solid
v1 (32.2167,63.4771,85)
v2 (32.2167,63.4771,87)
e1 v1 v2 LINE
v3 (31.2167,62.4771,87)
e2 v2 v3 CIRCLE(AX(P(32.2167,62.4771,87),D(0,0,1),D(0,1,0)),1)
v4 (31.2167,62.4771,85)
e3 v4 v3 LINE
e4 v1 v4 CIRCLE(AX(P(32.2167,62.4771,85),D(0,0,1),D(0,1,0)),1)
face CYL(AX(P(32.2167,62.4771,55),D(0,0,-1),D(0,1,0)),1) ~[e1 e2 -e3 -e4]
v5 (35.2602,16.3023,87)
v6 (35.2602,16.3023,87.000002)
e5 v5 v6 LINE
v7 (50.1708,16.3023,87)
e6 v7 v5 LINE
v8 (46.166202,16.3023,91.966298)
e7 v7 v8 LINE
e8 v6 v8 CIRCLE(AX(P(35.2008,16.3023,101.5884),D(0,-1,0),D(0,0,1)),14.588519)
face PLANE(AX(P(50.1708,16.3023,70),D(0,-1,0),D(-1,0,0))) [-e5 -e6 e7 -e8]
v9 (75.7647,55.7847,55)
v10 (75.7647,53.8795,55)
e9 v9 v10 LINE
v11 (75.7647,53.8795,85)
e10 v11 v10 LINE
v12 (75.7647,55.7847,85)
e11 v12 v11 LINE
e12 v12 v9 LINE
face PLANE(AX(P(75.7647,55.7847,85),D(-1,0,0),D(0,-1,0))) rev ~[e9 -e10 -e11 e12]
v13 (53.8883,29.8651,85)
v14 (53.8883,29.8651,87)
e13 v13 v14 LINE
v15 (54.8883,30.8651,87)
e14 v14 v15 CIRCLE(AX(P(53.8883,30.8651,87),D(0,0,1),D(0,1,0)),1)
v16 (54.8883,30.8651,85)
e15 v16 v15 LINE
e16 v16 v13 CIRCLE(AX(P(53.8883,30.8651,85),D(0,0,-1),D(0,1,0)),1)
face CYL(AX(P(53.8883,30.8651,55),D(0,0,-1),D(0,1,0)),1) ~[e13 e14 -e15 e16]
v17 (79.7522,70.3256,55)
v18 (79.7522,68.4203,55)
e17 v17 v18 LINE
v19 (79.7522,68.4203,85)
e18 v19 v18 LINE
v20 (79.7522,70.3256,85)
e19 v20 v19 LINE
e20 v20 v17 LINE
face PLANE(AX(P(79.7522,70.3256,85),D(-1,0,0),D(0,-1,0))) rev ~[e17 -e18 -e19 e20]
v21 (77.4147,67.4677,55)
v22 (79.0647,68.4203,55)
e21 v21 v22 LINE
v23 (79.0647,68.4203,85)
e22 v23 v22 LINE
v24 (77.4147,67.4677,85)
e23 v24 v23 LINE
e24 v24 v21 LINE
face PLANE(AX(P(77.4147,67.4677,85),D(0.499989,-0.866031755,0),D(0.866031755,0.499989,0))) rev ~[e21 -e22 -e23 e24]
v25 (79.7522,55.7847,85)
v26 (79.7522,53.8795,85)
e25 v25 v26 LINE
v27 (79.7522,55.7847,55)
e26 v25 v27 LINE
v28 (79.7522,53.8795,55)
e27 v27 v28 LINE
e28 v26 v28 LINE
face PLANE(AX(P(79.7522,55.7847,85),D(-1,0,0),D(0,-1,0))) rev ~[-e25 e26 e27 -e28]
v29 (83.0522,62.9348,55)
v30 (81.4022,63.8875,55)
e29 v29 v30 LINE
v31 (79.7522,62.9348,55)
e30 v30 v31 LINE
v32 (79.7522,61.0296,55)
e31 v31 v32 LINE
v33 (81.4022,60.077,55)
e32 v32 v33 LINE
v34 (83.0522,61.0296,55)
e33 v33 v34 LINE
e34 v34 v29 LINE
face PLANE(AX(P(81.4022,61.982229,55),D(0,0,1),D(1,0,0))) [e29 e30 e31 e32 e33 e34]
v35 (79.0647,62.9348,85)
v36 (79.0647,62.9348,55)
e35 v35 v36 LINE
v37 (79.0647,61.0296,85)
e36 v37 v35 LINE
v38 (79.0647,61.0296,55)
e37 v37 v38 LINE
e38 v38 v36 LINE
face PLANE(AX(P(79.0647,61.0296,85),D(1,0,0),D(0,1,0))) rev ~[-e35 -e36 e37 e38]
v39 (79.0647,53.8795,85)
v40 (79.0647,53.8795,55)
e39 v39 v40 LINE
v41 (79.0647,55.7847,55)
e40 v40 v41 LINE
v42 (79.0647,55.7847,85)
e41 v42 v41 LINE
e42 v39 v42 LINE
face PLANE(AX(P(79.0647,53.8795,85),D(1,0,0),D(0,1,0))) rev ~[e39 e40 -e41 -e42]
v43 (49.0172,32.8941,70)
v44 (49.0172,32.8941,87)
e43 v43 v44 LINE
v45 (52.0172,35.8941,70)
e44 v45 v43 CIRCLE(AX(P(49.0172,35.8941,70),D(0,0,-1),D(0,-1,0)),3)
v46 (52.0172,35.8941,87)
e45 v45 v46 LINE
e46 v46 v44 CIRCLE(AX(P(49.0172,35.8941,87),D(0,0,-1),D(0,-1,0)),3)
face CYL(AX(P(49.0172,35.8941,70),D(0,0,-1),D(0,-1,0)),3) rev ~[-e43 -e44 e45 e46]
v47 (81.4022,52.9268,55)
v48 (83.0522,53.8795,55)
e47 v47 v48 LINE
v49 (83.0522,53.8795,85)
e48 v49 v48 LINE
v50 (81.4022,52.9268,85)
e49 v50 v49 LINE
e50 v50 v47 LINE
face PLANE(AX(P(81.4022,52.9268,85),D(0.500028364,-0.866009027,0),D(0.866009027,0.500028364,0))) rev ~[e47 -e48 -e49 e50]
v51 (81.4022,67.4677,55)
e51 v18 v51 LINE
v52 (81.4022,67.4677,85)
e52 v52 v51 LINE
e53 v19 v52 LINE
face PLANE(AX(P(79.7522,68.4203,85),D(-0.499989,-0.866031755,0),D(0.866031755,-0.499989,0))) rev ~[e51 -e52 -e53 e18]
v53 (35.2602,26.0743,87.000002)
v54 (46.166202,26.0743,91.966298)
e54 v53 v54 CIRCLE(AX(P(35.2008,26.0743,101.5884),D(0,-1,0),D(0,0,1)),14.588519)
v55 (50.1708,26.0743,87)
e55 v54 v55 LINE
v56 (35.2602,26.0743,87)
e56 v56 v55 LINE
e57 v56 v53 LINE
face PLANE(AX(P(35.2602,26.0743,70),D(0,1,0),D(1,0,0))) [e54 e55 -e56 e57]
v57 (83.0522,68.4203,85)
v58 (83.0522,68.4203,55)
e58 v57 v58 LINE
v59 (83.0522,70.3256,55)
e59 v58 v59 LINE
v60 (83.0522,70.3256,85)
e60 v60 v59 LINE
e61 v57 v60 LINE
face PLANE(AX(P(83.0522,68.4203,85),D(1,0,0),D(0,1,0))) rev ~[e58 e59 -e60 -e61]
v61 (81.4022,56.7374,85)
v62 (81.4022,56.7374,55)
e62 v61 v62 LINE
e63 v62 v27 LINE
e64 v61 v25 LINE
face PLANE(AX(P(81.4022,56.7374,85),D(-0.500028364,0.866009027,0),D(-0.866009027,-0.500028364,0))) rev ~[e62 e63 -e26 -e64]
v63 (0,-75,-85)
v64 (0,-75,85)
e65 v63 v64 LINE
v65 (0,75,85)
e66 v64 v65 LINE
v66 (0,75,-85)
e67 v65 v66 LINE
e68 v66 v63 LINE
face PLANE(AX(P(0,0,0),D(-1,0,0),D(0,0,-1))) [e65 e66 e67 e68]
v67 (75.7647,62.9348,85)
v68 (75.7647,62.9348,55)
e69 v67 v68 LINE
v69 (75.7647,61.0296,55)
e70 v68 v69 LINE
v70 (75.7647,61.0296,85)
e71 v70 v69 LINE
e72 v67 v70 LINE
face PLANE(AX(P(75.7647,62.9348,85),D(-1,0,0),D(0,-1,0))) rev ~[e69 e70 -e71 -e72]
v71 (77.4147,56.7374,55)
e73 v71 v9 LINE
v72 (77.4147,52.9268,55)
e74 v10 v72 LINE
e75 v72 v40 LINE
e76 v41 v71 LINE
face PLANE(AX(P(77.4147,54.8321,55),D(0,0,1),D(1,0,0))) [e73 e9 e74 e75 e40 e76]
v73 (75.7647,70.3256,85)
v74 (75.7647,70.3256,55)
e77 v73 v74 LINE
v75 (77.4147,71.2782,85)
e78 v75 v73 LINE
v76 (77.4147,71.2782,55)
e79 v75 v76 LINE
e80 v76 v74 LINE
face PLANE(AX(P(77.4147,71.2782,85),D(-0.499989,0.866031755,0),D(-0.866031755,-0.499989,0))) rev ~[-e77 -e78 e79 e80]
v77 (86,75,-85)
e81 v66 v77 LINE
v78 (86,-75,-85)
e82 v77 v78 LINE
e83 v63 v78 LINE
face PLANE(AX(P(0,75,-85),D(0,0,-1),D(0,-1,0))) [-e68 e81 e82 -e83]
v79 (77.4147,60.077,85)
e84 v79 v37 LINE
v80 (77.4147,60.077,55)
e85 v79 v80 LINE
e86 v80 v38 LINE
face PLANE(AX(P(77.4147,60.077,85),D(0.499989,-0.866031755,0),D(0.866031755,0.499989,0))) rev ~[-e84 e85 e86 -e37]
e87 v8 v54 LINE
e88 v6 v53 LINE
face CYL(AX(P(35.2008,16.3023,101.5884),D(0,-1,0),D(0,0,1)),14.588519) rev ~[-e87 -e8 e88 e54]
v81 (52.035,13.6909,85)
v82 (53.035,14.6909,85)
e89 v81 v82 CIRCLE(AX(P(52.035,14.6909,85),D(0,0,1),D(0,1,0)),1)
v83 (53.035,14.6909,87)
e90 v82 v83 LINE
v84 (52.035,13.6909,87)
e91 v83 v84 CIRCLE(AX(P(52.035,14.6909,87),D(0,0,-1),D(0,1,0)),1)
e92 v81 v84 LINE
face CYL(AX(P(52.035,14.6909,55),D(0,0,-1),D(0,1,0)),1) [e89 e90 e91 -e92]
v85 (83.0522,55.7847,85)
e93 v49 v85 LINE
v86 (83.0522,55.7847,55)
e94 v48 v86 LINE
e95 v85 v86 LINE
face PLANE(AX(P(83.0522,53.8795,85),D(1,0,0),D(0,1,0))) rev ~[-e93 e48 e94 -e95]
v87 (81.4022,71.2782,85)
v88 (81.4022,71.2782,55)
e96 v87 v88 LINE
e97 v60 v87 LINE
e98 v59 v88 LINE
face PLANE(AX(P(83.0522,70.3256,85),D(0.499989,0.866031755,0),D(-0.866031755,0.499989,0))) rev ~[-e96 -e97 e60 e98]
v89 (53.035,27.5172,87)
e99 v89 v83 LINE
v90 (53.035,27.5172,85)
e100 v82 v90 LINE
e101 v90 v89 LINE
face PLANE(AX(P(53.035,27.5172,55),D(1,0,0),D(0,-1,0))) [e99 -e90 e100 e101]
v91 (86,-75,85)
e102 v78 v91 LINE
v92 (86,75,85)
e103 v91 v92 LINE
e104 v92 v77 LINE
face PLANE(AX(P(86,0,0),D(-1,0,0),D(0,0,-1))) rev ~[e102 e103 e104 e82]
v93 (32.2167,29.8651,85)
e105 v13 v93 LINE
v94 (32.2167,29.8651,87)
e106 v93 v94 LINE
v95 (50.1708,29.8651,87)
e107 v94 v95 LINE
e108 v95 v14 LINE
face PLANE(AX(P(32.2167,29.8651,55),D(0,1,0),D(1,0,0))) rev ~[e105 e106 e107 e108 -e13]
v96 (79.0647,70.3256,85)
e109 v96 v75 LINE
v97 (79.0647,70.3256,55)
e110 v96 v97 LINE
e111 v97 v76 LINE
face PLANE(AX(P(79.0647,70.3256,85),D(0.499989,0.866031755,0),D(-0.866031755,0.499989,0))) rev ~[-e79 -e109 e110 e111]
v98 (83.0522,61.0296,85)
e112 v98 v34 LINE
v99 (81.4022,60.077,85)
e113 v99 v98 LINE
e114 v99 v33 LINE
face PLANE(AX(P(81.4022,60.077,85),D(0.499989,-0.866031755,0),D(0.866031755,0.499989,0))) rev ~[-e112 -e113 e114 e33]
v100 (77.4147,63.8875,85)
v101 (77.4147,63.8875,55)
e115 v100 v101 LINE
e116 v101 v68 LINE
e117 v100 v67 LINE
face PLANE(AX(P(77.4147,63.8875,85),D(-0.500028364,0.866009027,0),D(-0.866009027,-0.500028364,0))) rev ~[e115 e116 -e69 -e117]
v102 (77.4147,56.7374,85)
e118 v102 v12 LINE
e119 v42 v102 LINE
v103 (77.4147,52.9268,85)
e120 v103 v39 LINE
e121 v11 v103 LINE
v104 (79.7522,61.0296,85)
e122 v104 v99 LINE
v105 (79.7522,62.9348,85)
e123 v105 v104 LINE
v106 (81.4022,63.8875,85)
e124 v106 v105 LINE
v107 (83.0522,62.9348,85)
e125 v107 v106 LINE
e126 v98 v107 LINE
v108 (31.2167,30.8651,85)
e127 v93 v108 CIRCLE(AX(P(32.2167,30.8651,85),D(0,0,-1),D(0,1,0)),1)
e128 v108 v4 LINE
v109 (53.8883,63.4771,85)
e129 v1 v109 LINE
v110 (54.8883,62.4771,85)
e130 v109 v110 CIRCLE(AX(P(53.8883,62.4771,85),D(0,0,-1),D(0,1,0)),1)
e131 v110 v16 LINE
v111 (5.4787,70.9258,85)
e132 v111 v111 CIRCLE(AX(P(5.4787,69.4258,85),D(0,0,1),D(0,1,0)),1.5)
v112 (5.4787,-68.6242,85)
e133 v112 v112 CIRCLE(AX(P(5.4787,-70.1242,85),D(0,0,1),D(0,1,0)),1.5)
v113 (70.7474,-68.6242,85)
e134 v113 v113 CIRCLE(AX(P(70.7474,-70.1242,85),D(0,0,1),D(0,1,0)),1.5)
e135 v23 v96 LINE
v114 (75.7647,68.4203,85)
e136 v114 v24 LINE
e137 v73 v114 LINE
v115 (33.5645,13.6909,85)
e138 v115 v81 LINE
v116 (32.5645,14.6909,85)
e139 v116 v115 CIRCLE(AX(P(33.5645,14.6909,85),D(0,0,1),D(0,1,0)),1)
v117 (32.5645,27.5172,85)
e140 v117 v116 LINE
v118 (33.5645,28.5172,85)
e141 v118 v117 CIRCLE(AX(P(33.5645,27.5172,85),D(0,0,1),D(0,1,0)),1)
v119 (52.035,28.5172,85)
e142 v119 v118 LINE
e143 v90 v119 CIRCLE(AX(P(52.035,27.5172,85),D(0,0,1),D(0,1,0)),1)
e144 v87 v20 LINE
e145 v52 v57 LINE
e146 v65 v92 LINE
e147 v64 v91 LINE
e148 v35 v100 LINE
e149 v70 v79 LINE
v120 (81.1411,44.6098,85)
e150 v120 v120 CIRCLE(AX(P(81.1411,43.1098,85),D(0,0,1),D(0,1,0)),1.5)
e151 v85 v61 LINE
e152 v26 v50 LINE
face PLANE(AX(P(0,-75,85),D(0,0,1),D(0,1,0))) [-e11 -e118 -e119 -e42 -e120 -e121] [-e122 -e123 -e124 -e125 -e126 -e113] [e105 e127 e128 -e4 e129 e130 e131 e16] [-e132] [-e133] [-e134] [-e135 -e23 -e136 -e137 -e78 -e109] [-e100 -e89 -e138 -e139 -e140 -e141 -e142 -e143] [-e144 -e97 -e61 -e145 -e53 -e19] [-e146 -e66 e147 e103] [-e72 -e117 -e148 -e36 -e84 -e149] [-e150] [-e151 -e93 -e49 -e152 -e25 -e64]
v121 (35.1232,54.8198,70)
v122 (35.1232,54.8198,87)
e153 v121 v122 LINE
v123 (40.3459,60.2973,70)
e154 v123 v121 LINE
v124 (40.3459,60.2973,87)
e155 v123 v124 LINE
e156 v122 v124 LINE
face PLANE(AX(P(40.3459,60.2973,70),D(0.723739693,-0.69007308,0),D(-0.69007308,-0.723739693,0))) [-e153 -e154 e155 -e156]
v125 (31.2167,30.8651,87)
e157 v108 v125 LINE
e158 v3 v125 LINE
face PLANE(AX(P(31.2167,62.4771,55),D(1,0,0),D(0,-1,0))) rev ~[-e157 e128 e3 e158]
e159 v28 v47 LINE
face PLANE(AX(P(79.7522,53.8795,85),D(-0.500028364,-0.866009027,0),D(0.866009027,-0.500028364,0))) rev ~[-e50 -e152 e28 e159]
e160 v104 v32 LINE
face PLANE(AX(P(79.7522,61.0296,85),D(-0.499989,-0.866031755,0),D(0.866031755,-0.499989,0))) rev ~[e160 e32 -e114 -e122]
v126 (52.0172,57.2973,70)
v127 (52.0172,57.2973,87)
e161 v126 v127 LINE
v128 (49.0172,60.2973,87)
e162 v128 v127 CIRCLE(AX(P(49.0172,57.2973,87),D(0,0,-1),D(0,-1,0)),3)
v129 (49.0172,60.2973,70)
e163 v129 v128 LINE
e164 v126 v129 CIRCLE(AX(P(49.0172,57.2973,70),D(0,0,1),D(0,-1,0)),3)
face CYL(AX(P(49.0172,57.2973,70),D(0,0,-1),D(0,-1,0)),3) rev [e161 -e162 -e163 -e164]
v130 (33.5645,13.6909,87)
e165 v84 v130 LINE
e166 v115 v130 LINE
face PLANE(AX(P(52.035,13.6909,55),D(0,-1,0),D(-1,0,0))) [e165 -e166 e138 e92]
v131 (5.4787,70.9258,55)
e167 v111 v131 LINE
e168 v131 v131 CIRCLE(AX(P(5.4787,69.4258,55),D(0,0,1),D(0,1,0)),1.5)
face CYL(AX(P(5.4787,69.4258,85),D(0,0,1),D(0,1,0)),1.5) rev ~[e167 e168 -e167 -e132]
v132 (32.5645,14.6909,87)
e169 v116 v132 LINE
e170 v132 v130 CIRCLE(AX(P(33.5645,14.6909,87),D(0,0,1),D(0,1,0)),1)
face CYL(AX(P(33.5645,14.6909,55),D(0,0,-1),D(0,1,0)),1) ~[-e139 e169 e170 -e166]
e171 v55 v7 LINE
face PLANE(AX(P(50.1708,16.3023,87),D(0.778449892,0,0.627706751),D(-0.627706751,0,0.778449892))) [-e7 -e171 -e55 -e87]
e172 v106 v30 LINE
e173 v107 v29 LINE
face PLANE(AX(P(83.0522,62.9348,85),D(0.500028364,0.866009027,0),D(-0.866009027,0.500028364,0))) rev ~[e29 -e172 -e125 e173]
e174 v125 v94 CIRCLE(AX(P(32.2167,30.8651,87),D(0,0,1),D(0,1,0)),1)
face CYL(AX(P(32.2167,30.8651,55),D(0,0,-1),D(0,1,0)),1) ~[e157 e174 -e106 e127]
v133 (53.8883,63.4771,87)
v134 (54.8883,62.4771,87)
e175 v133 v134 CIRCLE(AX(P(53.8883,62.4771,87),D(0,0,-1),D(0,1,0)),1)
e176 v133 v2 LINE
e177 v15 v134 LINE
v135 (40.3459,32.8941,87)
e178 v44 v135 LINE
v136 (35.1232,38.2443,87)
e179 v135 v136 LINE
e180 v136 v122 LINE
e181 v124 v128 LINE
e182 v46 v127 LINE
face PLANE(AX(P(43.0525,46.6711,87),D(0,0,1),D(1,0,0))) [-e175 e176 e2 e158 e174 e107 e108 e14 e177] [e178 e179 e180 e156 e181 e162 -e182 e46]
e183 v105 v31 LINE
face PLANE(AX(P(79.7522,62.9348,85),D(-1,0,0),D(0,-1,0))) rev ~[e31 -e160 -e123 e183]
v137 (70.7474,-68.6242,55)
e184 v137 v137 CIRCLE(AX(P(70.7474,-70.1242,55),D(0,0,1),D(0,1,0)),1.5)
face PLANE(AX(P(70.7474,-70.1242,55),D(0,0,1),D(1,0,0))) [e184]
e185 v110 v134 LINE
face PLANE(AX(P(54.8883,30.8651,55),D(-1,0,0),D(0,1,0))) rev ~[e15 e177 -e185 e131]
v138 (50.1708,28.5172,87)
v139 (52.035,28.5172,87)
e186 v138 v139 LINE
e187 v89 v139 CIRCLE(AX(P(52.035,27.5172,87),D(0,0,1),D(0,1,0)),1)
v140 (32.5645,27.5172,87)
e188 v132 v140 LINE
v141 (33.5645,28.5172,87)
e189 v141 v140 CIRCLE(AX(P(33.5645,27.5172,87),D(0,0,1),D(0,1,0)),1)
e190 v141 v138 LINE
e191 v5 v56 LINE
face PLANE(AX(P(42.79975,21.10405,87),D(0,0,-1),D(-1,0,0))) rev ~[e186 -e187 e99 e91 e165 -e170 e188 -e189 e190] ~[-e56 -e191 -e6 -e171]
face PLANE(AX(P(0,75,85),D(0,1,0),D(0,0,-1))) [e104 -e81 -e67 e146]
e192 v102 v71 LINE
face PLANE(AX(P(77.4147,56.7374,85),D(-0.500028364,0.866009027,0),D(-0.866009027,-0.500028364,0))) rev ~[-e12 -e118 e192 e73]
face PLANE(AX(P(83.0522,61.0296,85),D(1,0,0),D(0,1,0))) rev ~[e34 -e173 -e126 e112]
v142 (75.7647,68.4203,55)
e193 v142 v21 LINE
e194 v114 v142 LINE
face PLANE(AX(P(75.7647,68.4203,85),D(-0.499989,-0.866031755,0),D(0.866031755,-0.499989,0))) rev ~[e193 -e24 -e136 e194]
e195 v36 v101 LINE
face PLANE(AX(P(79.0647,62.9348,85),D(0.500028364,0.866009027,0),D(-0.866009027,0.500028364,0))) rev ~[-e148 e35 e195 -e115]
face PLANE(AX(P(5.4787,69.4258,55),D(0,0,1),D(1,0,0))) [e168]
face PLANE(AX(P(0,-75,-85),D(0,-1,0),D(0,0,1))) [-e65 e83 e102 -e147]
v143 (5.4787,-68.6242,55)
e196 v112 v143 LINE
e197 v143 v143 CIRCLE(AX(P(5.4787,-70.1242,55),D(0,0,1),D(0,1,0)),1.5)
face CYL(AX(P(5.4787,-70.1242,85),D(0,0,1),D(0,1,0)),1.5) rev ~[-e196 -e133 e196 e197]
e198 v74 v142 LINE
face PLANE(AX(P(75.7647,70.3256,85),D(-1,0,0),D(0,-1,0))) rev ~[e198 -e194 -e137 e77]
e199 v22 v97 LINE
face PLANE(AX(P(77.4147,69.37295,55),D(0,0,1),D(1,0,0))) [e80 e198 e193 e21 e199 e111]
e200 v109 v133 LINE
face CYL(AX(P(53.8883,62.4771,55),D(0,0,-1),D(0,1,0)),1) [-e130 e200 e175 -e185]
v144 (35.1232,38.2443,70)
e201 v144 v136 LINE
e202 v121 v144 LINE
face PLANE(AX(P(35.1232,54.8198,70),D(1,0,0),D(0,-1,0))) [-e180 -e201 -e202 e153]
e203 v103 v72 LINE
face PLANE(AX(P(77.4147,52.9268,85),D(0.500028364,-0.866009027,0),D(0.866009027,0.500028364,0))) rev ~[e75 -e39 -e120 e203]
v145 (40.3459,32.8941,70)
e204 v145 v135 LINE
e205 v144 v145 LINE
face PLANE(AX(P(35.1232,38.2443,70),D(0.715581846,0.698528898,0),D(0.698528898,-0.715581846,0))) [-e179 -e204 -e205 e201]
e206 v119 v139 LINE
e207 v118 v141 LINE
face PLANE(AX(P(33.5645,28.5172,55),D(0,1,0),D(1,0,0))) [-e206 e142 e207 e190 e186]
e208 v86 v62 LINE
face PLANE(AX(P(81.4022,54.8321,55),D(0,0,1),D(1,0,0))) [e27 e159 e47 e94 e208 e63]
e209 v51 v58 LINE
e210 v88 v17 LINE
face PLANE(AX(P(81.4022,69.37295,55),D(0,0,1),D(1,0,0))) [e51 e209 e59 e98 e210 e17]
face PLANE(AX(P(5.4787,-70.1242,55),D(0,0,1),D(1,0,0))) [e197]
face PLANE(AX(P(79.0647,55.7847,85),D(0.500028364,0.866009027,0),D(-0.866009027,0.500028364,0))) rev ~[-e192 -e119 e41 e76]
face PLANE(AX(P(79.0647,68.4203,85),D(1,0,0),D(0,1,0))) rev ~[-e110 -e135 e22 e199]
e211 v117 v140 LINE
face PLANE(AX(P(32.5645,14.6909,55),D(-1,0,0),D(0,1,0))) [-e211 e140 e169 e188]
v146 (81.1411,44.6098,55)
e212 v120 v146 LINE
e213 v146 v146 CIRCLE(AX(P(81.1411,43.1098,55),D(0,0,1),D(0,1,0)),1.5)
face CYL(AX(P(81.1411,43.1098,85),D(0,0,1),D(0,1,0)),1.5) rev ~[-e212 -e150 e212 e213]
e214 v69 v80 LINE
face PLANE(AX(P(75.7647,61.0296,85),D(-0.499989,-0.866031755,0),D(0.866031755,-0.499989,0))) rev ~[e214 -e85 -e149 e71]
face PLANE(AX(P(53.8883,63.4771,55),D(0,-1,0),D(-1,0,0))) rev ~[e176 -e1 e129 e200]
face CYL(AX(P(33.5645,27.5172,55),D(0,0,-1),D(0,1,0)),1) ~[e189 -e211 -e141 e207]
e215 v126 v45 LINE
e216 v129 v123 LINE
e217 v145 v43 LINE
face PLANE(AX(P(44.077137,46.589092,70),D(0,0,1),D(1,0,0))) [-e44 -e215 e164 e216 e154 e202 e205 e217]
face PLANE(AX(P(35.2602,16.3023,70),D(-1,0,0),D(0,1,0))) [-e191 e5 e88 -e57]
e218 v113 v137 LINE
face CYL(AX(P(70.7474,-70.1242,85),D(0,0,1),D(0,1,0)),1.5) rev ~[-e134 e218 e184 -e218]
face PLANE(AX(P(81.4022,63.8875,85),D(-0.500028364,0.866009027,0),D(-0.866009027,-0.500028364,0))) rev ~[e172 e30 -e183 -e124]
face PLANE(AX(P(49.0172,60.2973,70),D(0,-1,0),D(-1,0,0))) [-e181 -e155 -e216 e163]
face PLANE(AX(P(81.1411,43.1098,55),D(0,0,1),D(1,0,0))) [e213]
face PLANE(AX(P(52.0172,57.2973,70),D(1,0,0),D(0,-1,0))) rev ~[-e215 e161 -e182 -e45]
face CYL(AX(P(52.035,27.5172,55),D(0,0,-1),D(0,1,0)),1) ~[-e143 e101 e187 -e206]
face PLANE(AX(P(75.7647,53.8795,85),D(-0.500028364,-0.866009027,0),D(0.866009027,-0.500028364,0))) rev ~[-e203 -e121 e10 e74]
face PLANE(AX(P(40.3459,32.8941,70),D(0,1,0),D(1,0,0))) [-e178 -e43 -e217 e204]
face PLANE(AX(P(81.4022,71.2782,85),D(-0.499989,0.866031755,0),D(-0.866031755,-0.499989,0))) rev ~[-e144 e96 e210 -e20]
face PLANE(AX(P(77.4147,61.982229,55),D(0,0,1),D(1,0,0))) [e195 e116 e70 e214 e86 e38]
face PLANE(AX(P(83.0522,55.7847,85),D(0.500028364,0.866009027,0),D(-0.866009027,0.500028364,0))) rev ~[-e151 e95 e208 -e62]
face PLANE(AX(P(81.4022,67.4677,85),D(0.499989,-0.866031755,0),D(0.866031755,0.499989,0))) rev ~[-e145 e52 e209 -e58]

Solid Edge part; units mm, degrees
sketch "Sketch1" plane through (0, 0, 0) normal (-1, 0, 0) x (0, -1, 0)
  line L0 (-75, -85) -> (75, -85)
  line L1 (75, -85) -> (75, 85)
  line L2 (75, 85) -> (-75, 85)
  line L3 (-75, 85) -> (-75, -85)
  dimension "D1" = 150
  dimension "D2" = 170
extrude "Protrusion1" add sketch "Sketch1" against normal blind 86
sketch "Sketch2" plane through (43, 0, 85) normal (0, 0, 1) x (0, 1, 0)
  circle A0 centre (-70.1242, -27.7474) radius 1.5
  circle A1 centre (69.4258, 37.5213) radius 1.5
  circle A2 centre (43.1098, -38.1411) radius 1.5
  line L0 (60.2973, 2.6541) -> (60.2973, -6.0172)
  arc A3 (57.2973, -9.0172) -> (60.2973, -6.0172) centre (57.2973, -6.0172) ccw
  line L1 (57.2973, -9.0172) -> (35.8941, -9.0172)
  arc A4 (32.8941, -6.0172) -> (35.8941, -9.0172) centre (35.8941, -6.0172) ccw
  line L2 (32.8941, -6.0172) -> (32.8941, 2.6541)
  line L3 (38.2443, 7.8768) -> (32.8941, 2.6541)
  line L4 (38.2443, 7.8768) -> (54.8198, 7.8768)
  line L5 (54.8198, 7.8768) -> (60.2973, 2.6541)
  circle A5 centre (-70.1242, 37.5213) radius 1.5
  line L6 (62.4771, -11.8883) -> (30.8651, -11.8883)
  arc A6 (30.8651, -11.8883) -> (29.8651, -10.8883) centre (30.8651, -10.8883) cw
  line L7 (29.8651, -10.8883) -> (29.8651, 10.7833)
  arc A7 (29.8651, 10.7833) -> (30.8651, 11.7833) centre (30.8651, 10.7833) cw
  line L8 (30.8651, 11.7833) -> (62.4771, 11.7833)
  arc A8 (63.4771, 10.7833) -> (62.4771, 11.7833) centre (62.4771, 10.7833) ccw
  line L9 (63.4771, 10.7833) -> (63.4771, -10.8883)
  arc A9 (63.4771, -10.8883) -> (62.4771, -11.8883) centre (62.4771, -10.8883) cw
  line L10 (27.5172, 10.4355) -> (14.6909, 10.4355)
  arc A10 (14.6909, 10.4355) -> (13.6909, 9.4355) centre (14.6909, 9.4355) ccw
  line L11 (13.6909, 9.4355) -> (13.6909, -9.035)
  arc A11 (13.6909, -9.035) -> (14.6909, -10.035) centre (14.6909, -9.035) ccw
  line L12 (14.6909, -10.035) -> (27.5172, -10.035)
  arc A12 (27.5172, -10.035) -> (28.5172, -9.035) centre (27.5172, -9.035) ccw
  line L13 (28.5172, -9.035) -> (28.5172, 9.4355)
  arc A13 (28.5172, 9.4355) -> (27.5172, 10.4355) centre (27.5172, 9.4355) ccw
  line L14 (26.0742, 7.7398) -> (16.3023, 7.7398)
  line L15 (16.3023, 7.7398) -> (16.3023, -7.1708)
  line L16 (16.3023, -7.1708) -> (26.0742, -7.1708)
  line L17 (26.0742, -7.1708) -> (26.0742, 7.7398)
  line L18 (70.3256, -36.7522) -> (68.4203, -36.7522)
  line L19 (68.4203, -36.7522) -> (67.4677, -38.4022)
  line L20 (67.4677, -38.4022) -> (68.4203, -40.0522)
  line L21 (68.4203, -40.0522) -> (70.3256, -40.0522)
  line L22 (70.3256, -40.0522) -> (71.2782, -38.4022)
  line L23 (71.2782, -38.4022) -> (70.3256, -36.7522)
  line L24 (62.9348, -36.7522) -> (61.0296, -36.7522)
  line L25 (61.0296, -36.7522) -> (60.077, -38.4022)
  line L26 (60.077, -38.4022) -> (61.0296, -40.0522)
  line L27 (61.0296, -40.0522) -> (62.9348, -40.0522)
  line L28 (62.9348, -40.0522) -> (63.8875, -38.4022)
  line L29 (63.8875, -38.4022) -> (62.9348, -36.7522)
  line L30 (55.7847, -36.7522) -> (53.8795, -36.7522)
  line L31 (53.8795, -36.7522) -> (52.9268, -38.4022)
  line L32 (52.9268, -38.4022) -> (53.8795, -40.0522)
  line L33 (53.8795, -40.0522) -> (55.7847, -40.0522)
  line L34 (55.7847, -40.0522) -> (56.7374, -38.4022)
  line L35 (56.7374, -38.4022) -> (55.7847, -36.7522)
  line L36 (55.7847, -32.7647) -> (53.8795, -32.7647)
  line L37 (53.8795, -32.7647) -> (52.9268, -34.4147)
  line L38 (52.9268, -34.4147) -> (53.8795, -36.0647)
  line L39 (53.8795, -36.0647) -> (55.7847, -36.0647)
  line L40 (55.7847, -36.0647) -> (56.7374, -34.4147)
  line L41 (56.7374, -34.4147) -> (55.7847, -32.7647)
  line L42 (62.9348, -32.7647) -> (61.0296, -32.7647)
  line L43 (61.0296, -32.7647) -> (60.077, -34.4147)
  line L44 (60.077, -34.4147) -> (61.0296, -36.0647)
  line L45 (61.0296, -36.0647) -> (62.9348, -36.0647)
  line L46 (62.9348, -36.0647) -> (63.8875, -34.4147)
  line L47 (63.8875, -34.4147) -> (62.9348, -32.7647)
  line L48 (70.3256, -32.7647) -> (68.4203, -32.7647)
  line L49 (68.4203, -32.7647) -> (67.4677, -34.4147)
  line L50 (67.4677, -34.4147) -> (68.4203, -36.0647)
  line L51 (68.4203, -36.0647) -> (70.3256, -36.0647)
  line L52 (70.3256, -36.0647) -> (71.2782, -34.4147)
  line L53 (71.2782, -34.4147) -> (70.3256, -32.7647)
  dimension "D1" = 3
  dimension "D2" = 3
  dimension "D3" = 3
  dimension "D4" = 3
  dimension "D5" = 21.4032
  dimension "D6" = 8.6713
  dimension "D7" = 7.4767
  dimension "D8" = 7.5684
  dimension "D9" = 3
  dimension "D10" = 3
  dimension "D11" = 31.612
  dimension "D12" = 21.6716
  dimension "D13" = 12.8264
  dimension "D14" = 18.4705
  dimension "D15" = 1
  dimension "D16" = 1
  dimension "D17" = 1
  dimension "D18" = 1
  dimension "D19" = 1
  dimension "D20" = 1
  dimension "D21" = 1
  dimension "D22" = 1
  dimension "D23" = 9.7719
  dimension "D24" = 14.9106
  dimension "D25" = 3.8105
  dimension "D26" = 3.8105
  dimension "D27" = 3.8105
  dimension "D28" = 3.8105
  dimension "D29" = 3.8105
  dimension "D30" = 3.8105
extrude "Cutout1" cut sketch "Sketch2" against normal blind 30
sketch "Sketch3" plane through (43.0525, 46.6711, 55) normal (0, 0, 1) x (0, 1, 0)
  line L0 (-16.806, 10.8358) -> (-16.806, -10.8358)
  arc A0 (-16.806, -10.8358) -> (-15.806, -11.8358) centre (-15.806, -10.8358) ccw
  line L1 (-15.806, -11.8358) -> (15.806, -11.8358)
  arc A1 (16.806, -10.8358) -> (15.806, -11.8358) centre (15.806, -10.8358) cw
  line L2 (16.806, -10.8358) -> (16.806, 10.8358)
  arc A2 (16.806, 10.8358) -> (15.806, 11.8358) centre (15.806, 10.8358) ccw
  line L3 (15.806, 11.8358) -> (-15.806, 11.8358)
  arc A3 (-15.806, 11.8358) -> (-16.806, 10.8358) centre (-15.806, 10.8358) ccw
  line L4 (-31.9802, 10.488) -> (-19.1539, 10.488)
  arc A4 (-18.1539, 9.488) -> (-19.1539, 10.488) centre (-19.1539, 9.488) ccw
  line L5 (-18.1539, 9.488) -> (-18.1539, -8.9825)
  arc A5 (-19.1539, -9.9825) -> (-18.1539, -8.9825) centre (-19.1539, -8.9825) ccw
  line L6 (-19.1539, -9.9825) -> (-31.9802, -9.9825)
  arc A6 (-31.9802, -9.9825) -> (-32.9802, -8.9825) centre (-31.9802, -8.9825) cw
  line L7 (-32.9802, -8.9825) -> (-32.9802, 9.488)
  arc A7 (-31.9802, 10.488) -> (-32.9802, 9.488) centre (-31.9802, 9.488) ccw
  dimension "D1" = 1
  dimension "D2" = 1
  dimension "D3" = 1
  dimension "D4" = 1
  dimension "D5" = 1
  dimension "D6" = 1
  dimension "D7" = 1
  dimension "D8" = 1
extrude "ExtrudedProtrusion_22" add sketch "Sketch3" along normal blind 32
sketch "Sketch4" plane through (43.0525, 46.6711, 70) normal (0, 0, 1) x (0, -1, 0)
  line L0 (-13.6262, 5.9647) -> (-13.6262, -2.7066)
  line L1 (-13.6262, -2.7066) -> (-8.1487, -7.9293)
  line L2 (-8.1487, -7.9293) -> (8.4268, -7.9293)
  line L3 (8.4268, -7.9293) -> (13.777, -2.7066)
  line L4 (13.777, -2.7066) -> (13.777, 5.9647)
  arc A0 (10.777, 8.9647) -> (13.777, 5.9647) centre (10.777, 5.9647) cw
  line L5 (-10.6262, 8.9647) -> (10.777, 8.9647)
  arc A1 (-10.6262, 8.9647) -> (-13.6262, 5.9647) centre (-10.6262, 5.9647) ccw
  line L6 (20.5968, 7.1183) -> (30.3688, 7.1183)
  line L7 (30.3688, 7.1183) -> (30.3688, -7.7923)
  line L8 (30.3688, -7.7923) -> (20.5968, -7.7923)
  line L9 (20.5968, -7.7923) -> (20.5968, 7.1183)
  dimension "D1" = 3
  dimension "D2" = 3
  dimension "D3" = 9.7719
  dimension "D4" = 14.9106
extrude "ExtrudedCutout_39" cut sketch "Sketch4" along normal blind 45
sketch "Sketch5" plane through (42.7155, 21.1883, 70) normal (0, 0, 1) x (0, 1, 0)
  line L0 (-4.886, 7.4553) -> (4.886, 7.4553)
  line L1 (4.886, 7.4553) -> (4.886, -7.4553)
  line L2 (4.886, -7.4553) -> (-4.886, -7.4553)
  line L3 (-4.886, -7.4553) -> (-4.886, 7.4553)
  dimension "D1" = 9.7719
  dimension "D2" = 14.9106
extrude "Protrusion2" add sketch "Sketch5" along normal blind 30
sketch "Sketch6" plane through (42.7155, 16.3023, 93.5) normal (0, -1, 0) x (0, 0, 1)
  line L0 (-6.5, -7.4553) -> (-1.5337, -3.4507)
  arc A0 (-6.5, 7.4553) -> (-1.5337, -3.4507) centre (8.0884, 7.5147) ccw
  line L1 (-6.5, 7.4553) -> (6.5, 7.4553)
  line L2 (6.5, 7.4553) -> (6.5, -7.4553)
  line L3 (6.5, -7.4553) -> (-6.5, -7.4553)
  dimension "D1" = 6.3797
  dimension "D2" = 14.5886
extrude "ExtrudedCutout_40" cut sketch "Sketch6" against normal blind 15
